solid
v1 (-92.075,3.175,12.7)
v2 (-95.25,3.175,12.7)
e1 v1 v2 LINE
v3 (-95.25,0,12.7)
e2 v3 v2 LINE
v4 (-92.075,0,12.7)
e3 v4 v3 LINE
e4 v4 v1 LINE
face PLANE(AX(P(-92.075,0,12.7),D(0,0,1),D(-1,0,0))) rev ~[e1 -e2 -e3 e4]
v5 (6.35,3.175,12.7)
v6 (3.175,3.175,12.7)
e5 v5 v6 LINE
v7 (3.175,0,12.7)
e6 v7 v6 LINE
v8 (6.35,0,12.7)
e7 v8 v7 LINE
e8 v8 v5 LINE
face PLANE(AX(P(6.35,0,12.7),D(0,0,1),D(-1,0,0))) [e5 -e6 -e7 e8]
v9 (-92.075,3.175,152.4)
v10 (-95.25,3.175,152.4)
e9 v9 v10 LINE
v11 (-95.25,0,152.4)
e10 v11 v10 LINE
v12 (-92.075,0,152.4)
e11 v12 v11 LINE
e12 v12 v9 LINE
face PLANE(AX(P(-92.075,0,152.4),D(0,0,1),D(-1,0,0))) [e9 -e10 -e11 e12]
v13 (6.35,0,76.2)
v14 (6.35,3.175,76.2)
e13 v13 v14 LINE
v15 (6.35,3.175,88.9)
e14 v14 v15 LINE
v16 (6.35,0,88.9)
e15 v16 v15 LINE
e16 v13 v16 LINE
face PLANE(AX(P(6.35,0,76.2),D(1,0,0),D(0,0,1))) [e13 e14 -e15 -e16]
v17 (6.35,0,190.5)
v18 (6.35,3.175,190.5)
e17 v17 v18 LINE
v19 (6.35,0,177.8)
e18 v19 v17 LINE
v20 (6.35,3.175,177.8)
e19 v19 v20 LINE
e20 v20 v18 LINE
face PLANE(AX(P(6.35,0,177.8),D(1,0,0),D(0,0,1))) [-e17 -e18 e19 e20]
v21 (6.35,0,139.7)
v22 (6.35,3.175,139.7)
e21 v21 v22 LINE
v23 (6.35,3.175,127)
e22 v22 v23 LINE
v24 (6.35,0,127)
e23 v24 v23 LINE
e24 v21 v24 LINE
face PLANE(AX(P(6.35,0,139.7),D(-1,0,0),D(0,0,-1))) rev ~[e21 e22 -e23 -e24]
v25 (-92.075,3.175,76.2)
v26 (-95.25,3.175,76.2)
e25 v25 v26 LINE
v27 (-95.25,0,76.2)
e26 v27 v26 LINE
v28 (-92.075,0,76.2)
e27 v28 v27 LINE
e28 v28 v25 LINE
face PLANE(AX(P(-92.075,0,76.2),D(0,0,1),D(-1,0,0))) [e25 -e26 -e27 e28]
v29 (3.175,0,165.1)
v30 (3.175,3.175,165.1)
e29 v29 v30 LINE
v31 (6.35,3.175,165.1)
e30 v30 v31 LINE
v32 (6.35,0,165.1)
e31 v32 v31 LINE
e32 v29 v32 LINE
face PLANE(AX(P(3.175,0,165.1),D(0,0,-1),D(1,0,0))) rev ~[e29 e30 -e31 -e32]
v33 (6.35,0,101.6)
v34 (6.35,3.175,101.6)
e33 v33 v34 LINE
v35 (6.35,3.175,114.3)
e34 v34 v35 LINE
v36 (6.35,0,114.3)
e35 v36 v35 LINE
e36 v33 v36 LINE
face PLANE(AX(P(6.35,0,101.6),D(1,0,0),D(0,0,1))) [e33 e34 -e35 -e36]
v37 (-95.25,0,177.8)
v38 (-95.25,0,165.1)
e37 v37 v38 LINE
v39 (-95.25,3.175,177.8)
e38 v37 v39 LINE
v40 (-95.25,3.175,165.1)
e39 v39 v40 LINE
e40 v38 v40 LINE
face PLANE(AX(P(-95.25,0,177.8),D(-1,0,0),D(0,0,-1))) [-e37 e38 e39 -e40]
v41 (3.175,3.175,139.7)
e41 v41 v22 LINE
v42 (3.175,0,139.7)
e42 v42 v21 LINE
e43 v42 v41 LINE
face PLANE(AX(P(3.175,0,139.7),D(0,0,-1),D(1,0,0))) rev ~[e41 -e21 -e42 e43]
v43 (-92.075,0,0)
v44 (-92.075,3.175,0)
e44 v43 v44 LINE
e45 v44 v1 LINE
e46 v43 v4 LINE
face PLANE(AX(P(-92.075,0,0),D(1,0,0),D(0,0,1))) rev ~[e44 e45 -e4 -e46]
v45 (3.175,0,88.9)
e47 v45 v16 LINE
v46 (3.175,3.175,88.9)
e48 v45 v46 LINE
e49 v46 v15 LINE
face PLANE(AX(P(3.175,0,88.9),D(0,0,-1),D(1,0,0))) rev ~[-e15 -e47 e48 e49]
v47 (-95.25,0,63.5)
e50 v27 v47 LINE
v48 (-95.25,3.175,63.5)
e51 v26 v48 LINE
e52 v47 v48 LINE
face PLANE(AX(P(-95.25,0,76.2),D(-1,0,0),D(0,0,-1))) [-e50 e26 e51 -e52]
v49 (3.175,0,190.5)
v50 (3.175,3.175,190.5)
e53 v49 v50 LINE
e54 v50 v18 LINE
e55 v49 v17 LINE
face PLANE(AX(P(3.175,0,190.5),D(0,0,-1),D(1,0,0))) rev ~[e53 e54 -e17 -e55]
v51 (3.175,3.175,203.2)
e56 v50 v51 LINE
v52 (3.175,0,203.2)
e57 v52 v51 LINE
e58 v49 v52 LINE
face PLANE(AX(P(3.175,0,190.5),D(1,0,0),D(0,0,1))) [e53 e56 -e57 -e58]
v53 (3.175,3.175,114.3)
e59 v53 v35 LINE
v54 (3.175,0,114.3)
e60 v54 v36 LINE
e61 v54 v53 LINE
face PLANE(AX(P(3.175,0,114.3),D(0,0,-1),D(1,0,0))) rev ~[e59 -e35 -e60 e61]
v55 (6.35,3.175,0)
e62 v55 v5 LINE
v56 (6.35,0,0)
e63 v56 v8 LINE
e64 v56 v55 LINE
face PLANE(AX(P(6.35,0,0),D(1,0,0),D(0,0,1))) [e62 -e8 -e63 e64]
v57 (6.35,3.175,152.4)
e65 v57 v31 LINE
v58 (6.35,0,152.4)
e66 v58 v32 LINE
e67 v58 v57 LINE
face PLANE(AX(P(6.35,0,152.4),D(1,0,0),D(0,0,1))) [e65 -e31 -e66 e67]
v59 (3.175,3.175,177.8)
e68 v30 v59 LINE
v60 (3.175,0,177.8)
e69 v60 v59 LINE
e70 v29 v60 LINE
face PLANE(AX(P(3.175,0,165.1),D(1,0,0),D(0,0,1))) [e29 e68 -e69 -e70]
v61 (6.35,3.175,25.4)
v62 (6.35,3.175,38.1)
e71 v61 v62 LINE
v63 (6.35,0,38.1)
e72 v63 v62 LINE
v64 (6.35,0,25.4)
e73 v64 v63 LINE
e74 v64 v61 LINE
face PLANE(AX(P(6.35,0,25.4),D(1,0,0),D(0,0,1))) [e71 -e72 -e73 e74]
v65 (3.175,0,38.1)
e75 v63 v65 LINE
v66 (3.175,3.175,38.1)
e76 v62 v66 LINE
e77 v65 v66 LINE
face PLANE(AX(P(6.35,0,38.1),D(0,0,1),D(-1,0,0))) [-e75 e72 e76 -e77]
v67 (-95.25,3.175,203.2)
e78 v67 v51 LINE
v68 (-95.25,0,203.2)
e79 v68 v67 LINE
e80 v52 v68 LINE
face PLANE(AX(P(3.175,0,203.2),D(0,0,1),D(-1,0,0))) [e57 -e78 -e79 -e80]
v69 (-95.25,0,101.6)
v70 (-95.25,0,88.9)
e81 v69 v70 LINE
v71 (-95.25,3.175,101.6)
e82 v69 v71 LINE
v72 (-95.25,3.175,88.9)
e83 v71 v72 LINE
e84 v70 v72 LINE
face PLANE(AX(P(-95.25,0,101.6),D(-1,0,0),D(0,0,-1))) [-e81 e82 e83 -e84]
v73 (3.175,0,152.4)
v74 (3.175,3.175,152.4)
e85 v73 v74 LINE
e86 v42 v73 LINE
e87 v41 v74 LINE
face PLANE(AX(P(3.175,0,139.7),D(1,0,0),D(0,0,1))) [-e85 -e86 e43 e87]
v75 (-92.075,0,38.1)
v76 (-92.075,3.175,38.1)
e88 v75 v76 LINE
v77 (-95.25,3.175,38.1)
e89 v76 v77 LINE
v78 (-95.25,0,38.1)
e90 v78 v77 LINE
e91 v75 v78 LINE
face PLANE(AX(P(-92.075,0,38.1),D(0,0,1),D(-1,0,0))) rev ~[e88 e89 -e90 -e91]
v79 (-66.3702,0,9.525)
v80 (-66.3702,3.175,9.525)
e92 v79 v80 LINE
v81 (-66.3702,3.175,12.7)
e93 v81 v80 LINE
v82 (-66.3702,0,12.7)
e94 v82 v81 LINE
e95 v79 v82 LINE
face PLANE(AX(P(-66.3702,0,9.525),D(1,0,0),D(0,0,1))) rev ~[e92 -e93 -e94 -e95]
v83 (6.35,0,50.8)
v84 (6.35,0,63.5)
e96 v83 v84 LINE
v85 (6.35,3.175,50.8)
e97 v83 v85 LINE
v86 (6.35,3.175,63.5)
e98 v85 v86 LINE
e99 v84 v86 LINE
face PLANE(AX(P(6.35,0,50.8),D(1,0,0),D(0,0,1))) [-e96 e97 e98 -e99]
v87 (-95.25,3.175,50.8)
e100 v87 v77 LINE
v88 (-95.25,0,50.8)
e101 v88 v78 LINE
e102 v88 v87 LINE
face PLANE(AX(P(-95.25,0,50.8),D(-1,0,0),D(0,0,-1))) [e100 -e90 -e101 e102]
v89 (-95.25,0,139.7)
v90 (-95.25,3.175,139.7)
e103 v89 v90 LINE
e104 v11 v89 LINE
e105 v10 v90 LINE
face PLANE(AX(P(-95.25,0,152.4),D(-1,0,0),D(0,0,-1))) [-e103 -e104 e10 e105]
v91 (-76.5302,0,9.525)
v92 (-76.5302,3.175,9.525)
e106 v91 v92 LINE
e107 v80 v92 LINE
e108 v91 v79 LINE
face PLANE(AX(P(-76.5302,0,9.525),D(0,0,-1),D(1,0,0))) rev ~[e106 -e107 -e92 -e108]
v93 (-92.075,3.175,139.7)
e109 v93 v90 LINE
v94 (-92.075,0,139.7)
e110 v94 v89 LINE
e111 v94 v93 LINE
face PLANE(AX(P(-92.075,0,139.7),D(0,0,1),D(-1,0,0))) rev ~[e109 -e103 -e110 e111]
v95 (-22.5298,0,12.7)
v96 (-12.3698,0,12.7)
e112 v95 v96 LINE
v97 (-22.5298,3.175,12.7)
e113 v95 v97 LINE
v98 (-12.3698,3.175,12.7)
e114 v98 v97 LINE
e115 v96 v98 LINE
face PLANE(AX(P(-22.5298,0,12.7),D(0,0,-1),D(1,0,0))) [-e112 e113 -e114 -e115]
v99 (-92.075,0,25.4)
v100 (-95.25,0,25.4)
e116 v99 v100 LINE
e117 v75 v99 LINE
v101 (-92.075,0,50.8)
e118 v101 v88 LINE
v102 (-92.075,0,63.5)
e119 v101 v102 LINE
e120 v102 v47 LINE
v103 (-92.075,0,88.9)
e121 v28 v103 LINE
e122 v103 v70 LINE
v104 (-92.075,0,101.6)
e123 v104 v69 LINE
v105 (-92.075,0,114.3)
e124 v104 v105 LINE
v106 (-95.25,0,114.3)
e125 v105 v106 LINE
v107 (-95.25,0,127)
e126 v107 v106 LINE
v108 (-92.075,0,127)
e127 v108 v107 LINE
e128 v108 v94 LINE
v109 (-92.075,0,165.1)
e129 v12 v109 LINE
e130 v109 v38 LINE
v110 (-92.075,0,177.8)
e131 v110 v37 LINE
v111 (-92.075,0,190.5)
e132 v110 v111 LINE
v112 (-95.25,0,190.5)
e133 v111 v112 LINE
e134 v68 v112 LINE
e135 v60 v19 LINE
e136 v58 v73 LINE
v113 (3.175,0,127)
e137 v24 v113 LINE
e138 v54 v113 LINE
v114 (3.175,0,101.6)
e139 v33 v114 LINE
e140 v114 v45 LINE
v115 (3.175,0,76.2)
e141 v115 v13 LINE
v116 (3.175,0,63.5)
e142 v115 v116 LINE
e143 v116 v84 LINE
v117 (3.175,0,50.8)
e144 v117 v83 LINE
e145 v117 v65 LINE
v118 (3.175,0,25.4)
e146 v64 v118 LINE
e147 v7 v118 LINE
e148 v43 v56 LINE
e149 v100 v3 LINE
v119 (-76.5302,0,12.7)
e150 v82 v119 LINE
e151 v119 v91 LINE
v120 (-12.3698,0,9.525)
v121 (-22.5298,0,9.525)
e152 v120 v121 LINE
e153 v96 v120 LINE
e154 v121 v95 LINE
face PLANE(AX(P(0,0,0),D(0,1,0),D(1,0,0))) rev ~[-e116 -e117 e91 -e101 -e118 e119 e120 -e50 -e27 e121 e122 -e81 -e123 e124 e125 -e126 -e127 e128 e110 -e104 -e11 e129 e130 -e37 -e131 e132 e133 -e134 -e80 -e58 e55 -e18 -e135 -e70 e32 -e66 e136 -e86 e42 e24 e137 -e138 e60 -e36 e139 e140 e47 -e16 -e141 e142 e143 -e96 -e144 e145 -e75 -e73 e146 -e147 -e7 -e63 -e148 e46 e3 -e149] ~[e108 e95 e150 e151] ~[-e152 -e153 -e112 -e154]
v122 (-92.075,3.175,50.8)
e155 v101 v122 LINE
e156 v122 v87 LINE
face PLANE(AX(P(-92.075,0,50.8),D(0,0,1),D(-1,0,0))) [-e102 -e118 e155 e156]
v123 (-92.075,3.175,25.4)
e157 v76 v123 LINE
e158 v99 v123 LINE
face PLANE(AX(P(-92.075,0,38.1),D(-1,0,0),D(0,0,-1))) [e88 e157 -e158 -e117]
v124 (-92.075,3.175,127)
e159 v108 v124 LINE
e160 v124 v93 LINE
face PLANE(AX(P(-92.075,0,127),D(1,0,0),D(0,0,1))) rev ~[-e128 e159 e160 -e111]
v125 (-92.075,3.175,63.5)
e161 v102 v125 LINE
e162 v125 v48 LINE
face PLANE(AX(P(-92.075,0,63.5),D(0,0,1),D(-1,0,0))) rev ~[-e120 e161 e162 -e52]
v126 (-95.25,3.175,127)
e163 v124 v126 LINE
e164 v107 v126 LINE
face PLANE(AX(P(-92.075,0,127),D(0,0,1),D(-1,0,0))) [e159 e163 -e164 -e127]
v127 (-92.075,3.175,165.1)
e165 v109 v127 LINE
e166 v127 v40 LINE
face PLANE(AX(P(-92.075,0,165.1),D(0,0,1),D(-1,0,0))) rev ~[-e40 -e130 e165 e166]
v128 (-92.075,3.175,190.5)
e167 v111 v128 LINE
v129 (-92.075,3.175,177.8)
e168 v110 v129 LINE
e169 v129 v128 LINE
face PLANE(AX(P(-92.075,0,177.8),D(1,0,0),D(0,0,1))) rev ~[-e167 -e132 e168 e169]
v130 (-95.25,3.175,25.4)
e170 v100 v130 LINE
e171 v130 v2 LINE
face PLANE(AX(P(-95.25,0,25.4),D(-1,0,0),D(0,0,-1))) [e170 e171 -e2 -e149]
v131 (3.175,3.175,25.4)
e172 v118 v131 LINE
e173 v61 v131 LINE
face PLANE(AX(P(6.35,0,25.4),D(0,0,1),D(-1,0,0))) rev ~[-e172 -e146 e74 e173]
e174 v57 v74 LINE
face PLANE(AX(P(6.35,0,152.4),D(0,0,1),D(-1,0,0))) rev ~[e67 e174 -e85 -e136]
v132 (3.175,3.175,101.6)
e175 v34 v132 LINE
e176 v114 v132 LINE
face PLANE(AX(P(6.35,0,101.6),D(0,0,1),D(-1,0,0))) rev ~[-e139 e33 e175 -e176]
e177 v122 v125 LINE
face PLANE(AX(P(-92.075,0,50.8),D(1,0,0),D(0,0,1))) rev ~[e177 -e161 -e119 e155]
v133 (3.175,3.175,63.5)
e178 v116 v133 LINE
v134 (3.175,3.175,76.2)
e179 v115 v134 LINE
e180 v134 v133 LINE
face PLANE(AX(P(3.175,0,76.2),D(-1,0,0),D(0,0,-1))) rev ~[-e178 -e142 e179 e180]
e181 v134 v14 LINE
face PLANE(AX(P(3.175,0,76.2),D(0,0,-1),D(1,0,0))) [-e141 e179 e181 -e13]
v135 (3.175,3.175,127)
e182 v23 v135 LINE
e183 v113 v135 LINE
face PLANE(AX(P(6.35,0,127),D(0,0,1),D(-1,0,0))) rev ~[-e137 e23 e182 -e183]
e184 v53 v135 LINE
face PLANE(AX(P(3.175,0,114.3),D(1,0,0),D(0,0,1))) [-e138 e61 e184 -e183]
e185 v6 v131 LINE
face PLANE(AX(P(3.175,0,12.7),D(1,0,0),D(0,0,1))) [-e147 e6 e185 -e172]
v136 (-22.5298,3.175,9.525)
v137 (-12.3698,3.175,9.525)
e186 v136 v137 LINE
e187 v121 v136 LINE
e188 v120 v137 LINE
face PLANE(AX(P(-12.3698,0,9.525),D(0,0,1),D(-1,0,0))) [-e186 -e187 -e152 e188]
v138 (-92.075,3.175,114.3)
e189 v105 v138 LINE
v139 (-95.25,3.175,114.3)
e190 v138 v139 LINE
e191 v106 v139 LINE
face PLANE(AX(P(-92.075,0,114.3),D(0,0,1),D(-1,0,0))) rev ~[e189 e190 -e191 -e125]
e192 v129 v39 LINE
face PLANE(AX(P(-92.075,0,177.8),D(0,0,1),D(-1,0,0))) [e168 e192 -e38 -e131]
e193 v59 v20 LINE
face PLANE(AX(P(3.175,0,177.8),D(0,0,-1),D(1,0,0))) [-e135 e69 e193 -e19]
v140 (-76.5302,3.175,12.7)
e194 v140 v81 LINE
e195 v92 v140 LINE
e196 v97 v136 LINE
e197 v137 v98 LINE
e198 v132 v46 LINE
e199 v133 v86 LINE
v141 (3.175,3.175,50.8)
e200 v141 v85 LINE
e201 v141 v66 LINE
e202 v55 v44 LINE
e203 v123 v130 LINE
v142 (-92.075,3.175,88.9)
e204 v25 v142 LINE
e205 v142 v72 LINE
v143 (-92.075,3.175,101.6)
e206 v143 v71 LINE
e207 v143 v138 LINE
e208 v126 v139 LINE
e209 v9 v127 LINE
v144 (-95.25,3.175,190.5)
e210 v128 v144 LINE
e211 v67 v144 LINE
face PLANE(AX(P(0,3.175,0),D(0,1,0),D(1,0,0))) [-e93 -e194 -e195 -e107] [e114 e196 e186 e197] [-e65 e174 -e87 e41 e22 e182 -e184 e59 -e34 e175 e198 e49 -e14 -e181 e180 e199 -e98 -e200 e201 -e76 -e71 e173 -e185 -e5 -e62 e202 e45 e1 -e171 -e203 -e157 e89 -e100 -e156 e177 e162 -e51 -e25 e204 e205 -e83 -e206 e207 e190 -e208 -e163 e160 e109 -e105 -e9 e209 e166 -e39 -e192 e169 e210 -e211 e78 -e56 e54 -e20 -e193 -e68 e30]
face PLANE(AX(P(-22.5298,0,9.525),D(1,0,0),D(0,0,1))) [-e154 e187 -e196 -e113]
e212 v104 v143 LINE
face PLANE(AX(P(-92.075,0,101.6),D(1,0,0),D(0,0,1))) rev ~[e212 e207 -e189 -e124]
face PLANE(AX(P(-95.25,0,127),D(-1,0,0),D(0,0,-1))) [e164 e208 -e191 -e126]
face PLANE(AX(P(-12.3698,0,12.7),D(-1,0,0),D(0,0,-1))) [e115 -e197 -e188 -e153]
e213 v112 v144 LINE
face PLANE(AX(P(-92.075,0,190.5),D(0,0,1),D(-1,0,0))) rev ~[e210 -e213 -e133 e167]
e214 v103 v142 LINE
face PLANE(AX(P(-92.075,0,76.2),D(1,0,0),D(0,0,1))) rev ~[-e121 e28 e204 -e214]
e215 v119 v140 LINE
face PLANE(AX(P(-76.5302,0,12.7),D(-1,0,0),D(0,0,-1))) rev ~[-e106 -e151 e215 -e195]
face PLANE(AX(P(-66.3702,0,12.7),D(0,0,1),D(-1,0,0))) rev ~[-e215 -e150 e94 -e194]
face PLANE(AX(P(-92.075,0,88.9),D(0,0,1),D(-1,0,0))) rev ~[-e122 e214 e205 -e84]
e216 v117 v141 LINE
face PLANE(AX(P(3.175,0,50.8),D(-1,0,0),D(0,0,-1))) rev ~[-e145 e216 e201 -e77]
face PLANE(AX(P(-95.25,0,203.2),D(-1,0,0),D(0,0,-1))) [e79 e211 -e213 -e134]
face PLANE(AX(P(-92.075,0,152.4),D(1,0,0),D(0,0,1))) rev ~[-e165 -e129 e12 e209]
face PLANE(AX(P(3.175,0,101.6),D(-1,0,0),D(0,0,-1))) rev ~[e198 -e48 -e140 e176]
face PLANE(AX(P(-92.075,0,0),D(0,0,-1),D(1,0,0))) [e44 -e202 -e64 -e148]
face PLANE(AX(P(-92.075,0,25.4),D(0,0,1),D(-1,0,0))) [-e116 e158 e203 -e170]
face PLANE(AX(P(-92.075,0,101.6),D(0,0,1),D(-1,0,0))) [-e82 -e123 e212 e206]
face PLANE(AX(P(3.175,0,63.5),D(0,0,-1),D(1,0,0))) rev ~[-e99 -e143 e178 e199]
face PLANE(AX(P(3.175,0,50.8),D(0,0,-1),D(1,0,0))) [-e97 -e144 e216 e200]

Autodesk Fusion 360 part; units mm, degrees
sketch "Sketch1" plane through (0, 0, 0) normal (0, 1, 0) x (1, 0, 0)
  line L0 (3.175, -50.8) -> (3.175, -38.1)
  line L1 (3.175, -38.1) -> (3.175, -25.4)
  line L2 (6.35, -12.7) -> (3.175, -12.7)
  line L3 (3.175, -63.5) -> (6.35, -63.5)
  line L4 (3.175, -76.2) -> (3.175, -63.5)
  line L5 (6.35, -25.4) -> (3.175, -25.4)
  line L6 (3.175, -88.9) -> (3.175, -76.2)
  line L7 (6.35, -25.4) -> (6.35, -38.1)
  line L8 (6.35, -38.1) -> (3.175, -38.1)
  line L9 (3.175, -12.7) -> (3.175, 0)
  line L10 (3.175, -60.2676) -> (2.1543, -60.2676)
  line L11 (3.175, 0) -> (3.175, -59.055)
  line L12 (6.35, 0) -> (3.175, 0)
  line L13 (3.175, -25.4) -> (3.175, -12.7)
  line L14 (3.175, -101.6) -> (3.175, -88.9)
  line L15 (3.175, -76.2) -> (6.35, -76.2)
  line L16 (-95.25, -25.4) -> (-95.25, -12.7)
  line L17 (-92.075, -139.7) -> (-95.25, -139.7)
  line L18 (3.175, 0) -> (3.175, -203.2)
  line L19 (-92.075, -50.8) -> (-95.25, -50.8)
  line L20 (3.175, -50.8) -> (6.35, -50.8)
  line L21 (6.35, 0) -> (-4.7498, 0)
  line L22 (3.175, -88.9) -> (6.35, -88.9)
  line L23 (-92.075, -38.1) -> (-92.075, -25.4)
  line L24 (-92.075, -127) -> (-92.075, -114.3)
  line L25 (-95.25, 0) -> (6.35, 0)
  line L26 (-92.075, -203.2) -> (-92.075, -190.5)
  line L27 (3.175, -63.5) -> (3.175, -50.8)
  line L28 (6.35, -50.8) -> (6.35, -63.5)
  line L29 (-92.075, 0) -> (-92.075, -203.2)
  line L30 (6.35, -76.2) -> (6.35, -88.9)
  line L31 (-92.075, -95.25) -> (-92.075, -88.9)
  line L32 (6.35, 0) -> (-5.715, 0)
  line L33 (-95.25, 0) -> (-79.375, 0)
  line L34 (-92.075, -25.4) -> (-95.25, -25.4)
  line L35 (-92.075, -76.2) -> (-92.075, -63.5)
  line L36 (-4.7498, 0) -> (0.3302, 0)
  line L37 (6.35, 0) -> (6.35, -12.7)
  line L38 (6.35, -101.6) -> (3.175, -101.6)
  line L39 (-92.075, -177.8) -> (-95.25, -177.8)
  line L40 (-84.1502, 0) -> (-89.2302, 0)
  line L41 (-92.075, -139.7) -> (-92.075, -127)
  line L42 (-89.5189, -92.8088) -> (-89.7576, -92.8956)
  line L43 (-95.25, -101.6) -> (-95.25, -88.9)
  line L44 (6.35, -177.8) -> (6.35, -190.5)
  line L45 (6.35, -152.4) -> (6.35, -165.1)
  line L46 (3.175, -203.2) -> (3.175, -190.5)
  line L47 (3.175, -190.5) -> (3.175, -177.8)
  line L48 (-92.075, -63.5) -> (-95.25, -63.5)
  line L49 (-92.075, -25.4) -> (-92.075, -12.7)
  line L50 (-92.075, -190.5) -> (-95.25, -190.5)
  line L51 (-92.075, -12.7) -> (-95.25, -12.7)
  line L52 (3.175, -203.2) -> (-95.25, -203.2)
  line L53 (-92.075, -177.8) -> (-92.075, -165.1)
  line L54 (-92.075, -101.6) -> (-92.075, -95.25)
  line L55 (-92.075, -76.2) -> (-95.25, -76.2)
  line L56 (-95.25, -76.2) -> (-95.25, -63.5)
  line L57 (3.175, -114.3) -> (6.35, -114.3)
  line L58 (-95.25, -203.2) -> (-95.25, -190.5)
  line L59 (-92.075, -63.5) -> (-92.075, -50.8)
  line L60 (-92.075, -50.8) -> (-92.075, -38.1)
  line L61 (-92.075, -152.4) -> (-95.25, -152.4)
  line L62 (-92.075, -88.9) -> (-95.25, -88.9)
  line L63 (-92.075, -152.4) -> (-92.075, -139.7)
  line L64 (-95.25, -203.2) -> (-92.075, -203.2)
  line L65 (6.35, -152.4) -> (3.175, -152.4)
  line L66 (-92.075, -165.1) -> (-92.075, -152.4)
  line L67 (-92.075, -203.2) -> (-92.075, -177.8)
  line L68 (-92.075, -165.1) -> (-95.25, -165.1)
  line L69 (-92.075, -114.3) -> (-95.25, -114.3)
  line L70 (6.35, -101.6) -> (6.35, -114.3)
  line L71 (-95.25, -127) -> (-95.25, -114.3)
  line L72 (-92.075, -114.3) -> (-92.075, -101.6)
  line L73 (6.35, -139.7) -> (6.35, -127)
  line L74 (6.35, -127) -> (6.35, -139.7)
  line L75 (3.175, -177.8) -> (6.35, -177.8)
  line L76 (3.175, -165.1) -> (6.35, -165.1)
  line L77 (-92.075, -38.1) -> (-95.25, -38.1)
  line L78 (6.35, -114.3) -> (6.35, -101.6)
  line L79 (-95.25, 0) -> (-84.1502, 0)
  line L80 (-92.075, -127) -> (-95.25, -127)
  line L81 (3.175, -152.4) -> (3.175, -139.7)
  line L82 (-95.25, -177.8) -> (-95.25, -165.1)
  line L83 (6.35, -165.1) -> (6.35, -152.4)
  line L84 (-92.075, -101.6) -> (-95.25, -101.6)
  line L85 (3.175, -139.7) -> (6.35, -139.7)
  line L86 (-95.25, 0) -> (-92.075, 0)
  line L87 (-95.25, -152.4) -> (-95.25, -139.7)
  line L88 (3.175, -127) -> (3.175, -114.3)
  line L89 (6.35, -127) -> (3.175, -127)
  line L90 (3.175, -190.5) -> (6.35, -190.5)
  line L91 (-92.075, -88.9) -> (-92.075, -76.2)
  line L92 (-95.25, 0) -> (-93.6625, 0)
  line L93 (-92.075, -190.5) -> (-92.075, -177.8)
  line L94 (3.175, -177.8) -> (3.175, -165.1)
  line L95 (-95.25, -50.8) -> (-95.25, -38.1)
  point P0 (6.35, 0)
  point P1 (6.35, 0)
  dimension "d9" = 11.0998
  dimension "d10" = 11.0998
  dimension "d14" = 5.08
  dimension "d15" = 5.08
  dimension "d27" = 3.175
  dimension "d28" = 3.175
  dimension "d40" = 3.175
  dimension "d41" = 3.175
  dimension "d42" = 12.7
  dimension "d43" = 12.7
  dimension "d44" = 12.7
  dimension "d45" = 12.7
  dimension "d46" = 12.7
  dimension "d47" = 12.7
  dimension "d48" = 12.7
  dimension "d49" = 12.7
  dimension "d50" = 6.35
  dimension "d52" = 12.7
  dimension "d53" = 12.7
  dimension "d54" = 12.7
  dimension "d55" = 12.7
  dimension "d56" = 12.7
  dimension "d57" = 12.7
extrude "Extrude1" add sketch "Sketch1" along normal blind 3.175
sketch "Sketch2" plane through (0, 0, 0) normal (0, -1, 0) x (1, 0, 0)
  line L0 (-95.25, 63.5) -> (-92.075, 63.5)
  line L1 (-92.075, 63.5) -> (-92.075, 50.8)
  line L2 (-92.075, 50.8) -> (-95.25, 50.8)
  line L3 (-95.25, 50.8) -> (-95.25, 38.1)
  line L4 (-95.25, 38.1) -> (-92.075, 38.1)
  line L5 (-92.075, 38.1) -> (-92.075, 25.4)
  line L6 (-92.075, 25.4) -> (-95.25, 25.4)
  line L7 (-95.25, 25.4) -> (-95.25, 12.7)
  line L8 (-95.25, 12.7) -> (-92.075, 12.7)
  line L9 (-92.075, 12.7) -> (-92.075, 0)
  line L10 (-92.075, 0) -> (6.35, 0)
  line L11 (6.35, 0) -> (6.35, 12.7)
  line L12 (6.35, 12.7) -> (3.175, 12.7)
  line L13 (3.175, 12.7) -> (3.175, 25.4)
  line L14 (3.175, 25.4) -> (6.35, 25.4)
  line L15 (6.35, 25.4) -> (6.35, 38.1)
  line L16 (6.35, 38.1) -> (3.175, 38.1)
  line L17 (3.175, 38.1) -> (3.175, 50.8)
  line L18 (3.175, 50.8) -> (6.35, 50.8)
  line L19 (6.35, 50.8) -> (6.35, 63.5)
  line L20 (6.35, 63.5) -> (3.175, 63.5)
  line L21 (3.175, 63.5) -> (3.175, 76.2)
  line L22 (3.175, 76.2) -> (6.35, 76.2)
  line L23 (6.35, 76.2) -> (6.35, 88.9)
  line L24 (6.35, 88.9) -> (3.175, 88.9)
  line L25 (3.175, 88.9) -> (3.175, 101.6)
  line L26 (3.175, 101.6) -> (6.35, 101.6)
  line L27 (6.35, 101.6) -> (6.35, 114.3)
  line L28 (6.35, 114.3) -> (3.175, 114.3)
  line L29 (3.175, 114.3) -> (3.175, 127)
  line L30 (3.175, 127) -> (6.35, 127)
  line L31 (6.35, 127) -> (6.35, 139.7)
  line L32 (6.35, 139.7) -> (3.175, 139.7)
  line L33 (3.175, 139.7) -> (3.175, 152.4)
  line L34 (3.175, 152.4) -> (6.35, 152.4)
  line L35 (6.35, 152.4) -> (6.35, 165.1)
  line L36 (6.35, 165.1) -> (3.175, 165.1)
  line L37 (3.175, 165.1) -> (3.175, 177.8)
  line L38 (3.175, 177.8) -> (6.35, 177.8)
  line L39 (6.35, 177.8) -> (6.35, 190.5)
  line L40 (6.35, 190.5) -> (3.175, 190.5)
  line L41 (3.175, 190.5) -> (3.175, 203.2)
  line L42 (3.175, 203.2) -> (-95.25, 203.2)
  line L43 (-95.25, 203.2) -> (-95.25, 190.5)
  line L44 (-95.25, 190.5) -> (-92.075, 190.5)
  line L45 (-92.075, 190.5) -> (-92.075, 177.8)
  line L46 (-92.075, 177.8) -> (-95.25, 177.8)
  line L47 (-95.25, 177.8) -> (-95.25, 165.1)
  line L48 (-95.25, 165.1) -> (-92.075, 165.1)
  line L49 (-92.075, 165.1) -> (-92.075, 152.4)
  line L50 (-92.075, 152.4) -> (-95.25, 152.4)
  line L51 (-95.25, 152.4) -> (-95.25, 139.7)
  line L52 (-95.25, 139.7) -> (-92.075, 139.7)
  line L53 (-92.075, 139.7) -> (-92.075, 127)
  line L54 (-92.075, 127) -> (-95.25, 127)
  line L55 (-95.25, 127) -> (-95.25, 114.3)
  line L56 (-95.25, 114.3) -> (-92.075, 114.3)
  line L57 (-92.075, 114.3) -> (-92.075, 101.6)
  line L58 (-92.075, 101.6) -> (-95.25, 101.6)
  line L59 (-95.25, 101.6) -> (-95.25, 88.9)
  line L60 (-95.25, 88.9) -> (-92.075, 88.9)
  line L61 (-92.075, 88.9) -> (-92.075, 76.2)
  line L62 (-92.075, 76.2) -> (-95.25, 76.2)
  line L63 (-95.25, 76.2) -> (-95.25, 63.5)
  line L64 (6.35, 0) -> (-12.3698, 0)
  line L65 (-12.3698, 0) -> (-12.3698, 9.525)
  line L66 (-92.075, 0) -> (-76.5302, 0)
  line L67 (-76.5302, 0) -> (-76.5302, 9.525)
  line L68 (-76.5302, 9.525) -> (-66.3702, 9.525)
  line L69 (-66.3702, 9.525) -> (-66.3702, 12.7)
  line L70 (-66.3702, 12.7) -> (-76.5302, 12.7)
  line L71 (-76.5302, 12.7) -> (-76.5302, 9.525)
  line L72 (-12.3698, 9.525) -> (-22.5298, 9.525)
  line L73 (-22.5298, 9.525) -> (-22.5298, 12.7)
  line L74 (-22.5298, 12.7) -> (-12.3698, 12.7)
  line L75 (-12.3698, 12.7) -> (-12.3698, 9.525)
  dimension "d105" = 18.7198
  dimension "d106" = 9.525
  dimension "d107" = 15.5448
  dimension "d108" = 9.525
  dimension "d109" = 10.16
  dimension "d110" = 3.175
  dimension "d111" = 10.16
  dimension "d112" = 10.16
  dimension "d113" = 10.16
extrude "Extrude2" cut sketch "Sketch2" against normal blind 20.32 contours L68 L69 L70 L71 | L72 L73 L74 L75
equation "d9 = 0.5 in - 0.063 in"
